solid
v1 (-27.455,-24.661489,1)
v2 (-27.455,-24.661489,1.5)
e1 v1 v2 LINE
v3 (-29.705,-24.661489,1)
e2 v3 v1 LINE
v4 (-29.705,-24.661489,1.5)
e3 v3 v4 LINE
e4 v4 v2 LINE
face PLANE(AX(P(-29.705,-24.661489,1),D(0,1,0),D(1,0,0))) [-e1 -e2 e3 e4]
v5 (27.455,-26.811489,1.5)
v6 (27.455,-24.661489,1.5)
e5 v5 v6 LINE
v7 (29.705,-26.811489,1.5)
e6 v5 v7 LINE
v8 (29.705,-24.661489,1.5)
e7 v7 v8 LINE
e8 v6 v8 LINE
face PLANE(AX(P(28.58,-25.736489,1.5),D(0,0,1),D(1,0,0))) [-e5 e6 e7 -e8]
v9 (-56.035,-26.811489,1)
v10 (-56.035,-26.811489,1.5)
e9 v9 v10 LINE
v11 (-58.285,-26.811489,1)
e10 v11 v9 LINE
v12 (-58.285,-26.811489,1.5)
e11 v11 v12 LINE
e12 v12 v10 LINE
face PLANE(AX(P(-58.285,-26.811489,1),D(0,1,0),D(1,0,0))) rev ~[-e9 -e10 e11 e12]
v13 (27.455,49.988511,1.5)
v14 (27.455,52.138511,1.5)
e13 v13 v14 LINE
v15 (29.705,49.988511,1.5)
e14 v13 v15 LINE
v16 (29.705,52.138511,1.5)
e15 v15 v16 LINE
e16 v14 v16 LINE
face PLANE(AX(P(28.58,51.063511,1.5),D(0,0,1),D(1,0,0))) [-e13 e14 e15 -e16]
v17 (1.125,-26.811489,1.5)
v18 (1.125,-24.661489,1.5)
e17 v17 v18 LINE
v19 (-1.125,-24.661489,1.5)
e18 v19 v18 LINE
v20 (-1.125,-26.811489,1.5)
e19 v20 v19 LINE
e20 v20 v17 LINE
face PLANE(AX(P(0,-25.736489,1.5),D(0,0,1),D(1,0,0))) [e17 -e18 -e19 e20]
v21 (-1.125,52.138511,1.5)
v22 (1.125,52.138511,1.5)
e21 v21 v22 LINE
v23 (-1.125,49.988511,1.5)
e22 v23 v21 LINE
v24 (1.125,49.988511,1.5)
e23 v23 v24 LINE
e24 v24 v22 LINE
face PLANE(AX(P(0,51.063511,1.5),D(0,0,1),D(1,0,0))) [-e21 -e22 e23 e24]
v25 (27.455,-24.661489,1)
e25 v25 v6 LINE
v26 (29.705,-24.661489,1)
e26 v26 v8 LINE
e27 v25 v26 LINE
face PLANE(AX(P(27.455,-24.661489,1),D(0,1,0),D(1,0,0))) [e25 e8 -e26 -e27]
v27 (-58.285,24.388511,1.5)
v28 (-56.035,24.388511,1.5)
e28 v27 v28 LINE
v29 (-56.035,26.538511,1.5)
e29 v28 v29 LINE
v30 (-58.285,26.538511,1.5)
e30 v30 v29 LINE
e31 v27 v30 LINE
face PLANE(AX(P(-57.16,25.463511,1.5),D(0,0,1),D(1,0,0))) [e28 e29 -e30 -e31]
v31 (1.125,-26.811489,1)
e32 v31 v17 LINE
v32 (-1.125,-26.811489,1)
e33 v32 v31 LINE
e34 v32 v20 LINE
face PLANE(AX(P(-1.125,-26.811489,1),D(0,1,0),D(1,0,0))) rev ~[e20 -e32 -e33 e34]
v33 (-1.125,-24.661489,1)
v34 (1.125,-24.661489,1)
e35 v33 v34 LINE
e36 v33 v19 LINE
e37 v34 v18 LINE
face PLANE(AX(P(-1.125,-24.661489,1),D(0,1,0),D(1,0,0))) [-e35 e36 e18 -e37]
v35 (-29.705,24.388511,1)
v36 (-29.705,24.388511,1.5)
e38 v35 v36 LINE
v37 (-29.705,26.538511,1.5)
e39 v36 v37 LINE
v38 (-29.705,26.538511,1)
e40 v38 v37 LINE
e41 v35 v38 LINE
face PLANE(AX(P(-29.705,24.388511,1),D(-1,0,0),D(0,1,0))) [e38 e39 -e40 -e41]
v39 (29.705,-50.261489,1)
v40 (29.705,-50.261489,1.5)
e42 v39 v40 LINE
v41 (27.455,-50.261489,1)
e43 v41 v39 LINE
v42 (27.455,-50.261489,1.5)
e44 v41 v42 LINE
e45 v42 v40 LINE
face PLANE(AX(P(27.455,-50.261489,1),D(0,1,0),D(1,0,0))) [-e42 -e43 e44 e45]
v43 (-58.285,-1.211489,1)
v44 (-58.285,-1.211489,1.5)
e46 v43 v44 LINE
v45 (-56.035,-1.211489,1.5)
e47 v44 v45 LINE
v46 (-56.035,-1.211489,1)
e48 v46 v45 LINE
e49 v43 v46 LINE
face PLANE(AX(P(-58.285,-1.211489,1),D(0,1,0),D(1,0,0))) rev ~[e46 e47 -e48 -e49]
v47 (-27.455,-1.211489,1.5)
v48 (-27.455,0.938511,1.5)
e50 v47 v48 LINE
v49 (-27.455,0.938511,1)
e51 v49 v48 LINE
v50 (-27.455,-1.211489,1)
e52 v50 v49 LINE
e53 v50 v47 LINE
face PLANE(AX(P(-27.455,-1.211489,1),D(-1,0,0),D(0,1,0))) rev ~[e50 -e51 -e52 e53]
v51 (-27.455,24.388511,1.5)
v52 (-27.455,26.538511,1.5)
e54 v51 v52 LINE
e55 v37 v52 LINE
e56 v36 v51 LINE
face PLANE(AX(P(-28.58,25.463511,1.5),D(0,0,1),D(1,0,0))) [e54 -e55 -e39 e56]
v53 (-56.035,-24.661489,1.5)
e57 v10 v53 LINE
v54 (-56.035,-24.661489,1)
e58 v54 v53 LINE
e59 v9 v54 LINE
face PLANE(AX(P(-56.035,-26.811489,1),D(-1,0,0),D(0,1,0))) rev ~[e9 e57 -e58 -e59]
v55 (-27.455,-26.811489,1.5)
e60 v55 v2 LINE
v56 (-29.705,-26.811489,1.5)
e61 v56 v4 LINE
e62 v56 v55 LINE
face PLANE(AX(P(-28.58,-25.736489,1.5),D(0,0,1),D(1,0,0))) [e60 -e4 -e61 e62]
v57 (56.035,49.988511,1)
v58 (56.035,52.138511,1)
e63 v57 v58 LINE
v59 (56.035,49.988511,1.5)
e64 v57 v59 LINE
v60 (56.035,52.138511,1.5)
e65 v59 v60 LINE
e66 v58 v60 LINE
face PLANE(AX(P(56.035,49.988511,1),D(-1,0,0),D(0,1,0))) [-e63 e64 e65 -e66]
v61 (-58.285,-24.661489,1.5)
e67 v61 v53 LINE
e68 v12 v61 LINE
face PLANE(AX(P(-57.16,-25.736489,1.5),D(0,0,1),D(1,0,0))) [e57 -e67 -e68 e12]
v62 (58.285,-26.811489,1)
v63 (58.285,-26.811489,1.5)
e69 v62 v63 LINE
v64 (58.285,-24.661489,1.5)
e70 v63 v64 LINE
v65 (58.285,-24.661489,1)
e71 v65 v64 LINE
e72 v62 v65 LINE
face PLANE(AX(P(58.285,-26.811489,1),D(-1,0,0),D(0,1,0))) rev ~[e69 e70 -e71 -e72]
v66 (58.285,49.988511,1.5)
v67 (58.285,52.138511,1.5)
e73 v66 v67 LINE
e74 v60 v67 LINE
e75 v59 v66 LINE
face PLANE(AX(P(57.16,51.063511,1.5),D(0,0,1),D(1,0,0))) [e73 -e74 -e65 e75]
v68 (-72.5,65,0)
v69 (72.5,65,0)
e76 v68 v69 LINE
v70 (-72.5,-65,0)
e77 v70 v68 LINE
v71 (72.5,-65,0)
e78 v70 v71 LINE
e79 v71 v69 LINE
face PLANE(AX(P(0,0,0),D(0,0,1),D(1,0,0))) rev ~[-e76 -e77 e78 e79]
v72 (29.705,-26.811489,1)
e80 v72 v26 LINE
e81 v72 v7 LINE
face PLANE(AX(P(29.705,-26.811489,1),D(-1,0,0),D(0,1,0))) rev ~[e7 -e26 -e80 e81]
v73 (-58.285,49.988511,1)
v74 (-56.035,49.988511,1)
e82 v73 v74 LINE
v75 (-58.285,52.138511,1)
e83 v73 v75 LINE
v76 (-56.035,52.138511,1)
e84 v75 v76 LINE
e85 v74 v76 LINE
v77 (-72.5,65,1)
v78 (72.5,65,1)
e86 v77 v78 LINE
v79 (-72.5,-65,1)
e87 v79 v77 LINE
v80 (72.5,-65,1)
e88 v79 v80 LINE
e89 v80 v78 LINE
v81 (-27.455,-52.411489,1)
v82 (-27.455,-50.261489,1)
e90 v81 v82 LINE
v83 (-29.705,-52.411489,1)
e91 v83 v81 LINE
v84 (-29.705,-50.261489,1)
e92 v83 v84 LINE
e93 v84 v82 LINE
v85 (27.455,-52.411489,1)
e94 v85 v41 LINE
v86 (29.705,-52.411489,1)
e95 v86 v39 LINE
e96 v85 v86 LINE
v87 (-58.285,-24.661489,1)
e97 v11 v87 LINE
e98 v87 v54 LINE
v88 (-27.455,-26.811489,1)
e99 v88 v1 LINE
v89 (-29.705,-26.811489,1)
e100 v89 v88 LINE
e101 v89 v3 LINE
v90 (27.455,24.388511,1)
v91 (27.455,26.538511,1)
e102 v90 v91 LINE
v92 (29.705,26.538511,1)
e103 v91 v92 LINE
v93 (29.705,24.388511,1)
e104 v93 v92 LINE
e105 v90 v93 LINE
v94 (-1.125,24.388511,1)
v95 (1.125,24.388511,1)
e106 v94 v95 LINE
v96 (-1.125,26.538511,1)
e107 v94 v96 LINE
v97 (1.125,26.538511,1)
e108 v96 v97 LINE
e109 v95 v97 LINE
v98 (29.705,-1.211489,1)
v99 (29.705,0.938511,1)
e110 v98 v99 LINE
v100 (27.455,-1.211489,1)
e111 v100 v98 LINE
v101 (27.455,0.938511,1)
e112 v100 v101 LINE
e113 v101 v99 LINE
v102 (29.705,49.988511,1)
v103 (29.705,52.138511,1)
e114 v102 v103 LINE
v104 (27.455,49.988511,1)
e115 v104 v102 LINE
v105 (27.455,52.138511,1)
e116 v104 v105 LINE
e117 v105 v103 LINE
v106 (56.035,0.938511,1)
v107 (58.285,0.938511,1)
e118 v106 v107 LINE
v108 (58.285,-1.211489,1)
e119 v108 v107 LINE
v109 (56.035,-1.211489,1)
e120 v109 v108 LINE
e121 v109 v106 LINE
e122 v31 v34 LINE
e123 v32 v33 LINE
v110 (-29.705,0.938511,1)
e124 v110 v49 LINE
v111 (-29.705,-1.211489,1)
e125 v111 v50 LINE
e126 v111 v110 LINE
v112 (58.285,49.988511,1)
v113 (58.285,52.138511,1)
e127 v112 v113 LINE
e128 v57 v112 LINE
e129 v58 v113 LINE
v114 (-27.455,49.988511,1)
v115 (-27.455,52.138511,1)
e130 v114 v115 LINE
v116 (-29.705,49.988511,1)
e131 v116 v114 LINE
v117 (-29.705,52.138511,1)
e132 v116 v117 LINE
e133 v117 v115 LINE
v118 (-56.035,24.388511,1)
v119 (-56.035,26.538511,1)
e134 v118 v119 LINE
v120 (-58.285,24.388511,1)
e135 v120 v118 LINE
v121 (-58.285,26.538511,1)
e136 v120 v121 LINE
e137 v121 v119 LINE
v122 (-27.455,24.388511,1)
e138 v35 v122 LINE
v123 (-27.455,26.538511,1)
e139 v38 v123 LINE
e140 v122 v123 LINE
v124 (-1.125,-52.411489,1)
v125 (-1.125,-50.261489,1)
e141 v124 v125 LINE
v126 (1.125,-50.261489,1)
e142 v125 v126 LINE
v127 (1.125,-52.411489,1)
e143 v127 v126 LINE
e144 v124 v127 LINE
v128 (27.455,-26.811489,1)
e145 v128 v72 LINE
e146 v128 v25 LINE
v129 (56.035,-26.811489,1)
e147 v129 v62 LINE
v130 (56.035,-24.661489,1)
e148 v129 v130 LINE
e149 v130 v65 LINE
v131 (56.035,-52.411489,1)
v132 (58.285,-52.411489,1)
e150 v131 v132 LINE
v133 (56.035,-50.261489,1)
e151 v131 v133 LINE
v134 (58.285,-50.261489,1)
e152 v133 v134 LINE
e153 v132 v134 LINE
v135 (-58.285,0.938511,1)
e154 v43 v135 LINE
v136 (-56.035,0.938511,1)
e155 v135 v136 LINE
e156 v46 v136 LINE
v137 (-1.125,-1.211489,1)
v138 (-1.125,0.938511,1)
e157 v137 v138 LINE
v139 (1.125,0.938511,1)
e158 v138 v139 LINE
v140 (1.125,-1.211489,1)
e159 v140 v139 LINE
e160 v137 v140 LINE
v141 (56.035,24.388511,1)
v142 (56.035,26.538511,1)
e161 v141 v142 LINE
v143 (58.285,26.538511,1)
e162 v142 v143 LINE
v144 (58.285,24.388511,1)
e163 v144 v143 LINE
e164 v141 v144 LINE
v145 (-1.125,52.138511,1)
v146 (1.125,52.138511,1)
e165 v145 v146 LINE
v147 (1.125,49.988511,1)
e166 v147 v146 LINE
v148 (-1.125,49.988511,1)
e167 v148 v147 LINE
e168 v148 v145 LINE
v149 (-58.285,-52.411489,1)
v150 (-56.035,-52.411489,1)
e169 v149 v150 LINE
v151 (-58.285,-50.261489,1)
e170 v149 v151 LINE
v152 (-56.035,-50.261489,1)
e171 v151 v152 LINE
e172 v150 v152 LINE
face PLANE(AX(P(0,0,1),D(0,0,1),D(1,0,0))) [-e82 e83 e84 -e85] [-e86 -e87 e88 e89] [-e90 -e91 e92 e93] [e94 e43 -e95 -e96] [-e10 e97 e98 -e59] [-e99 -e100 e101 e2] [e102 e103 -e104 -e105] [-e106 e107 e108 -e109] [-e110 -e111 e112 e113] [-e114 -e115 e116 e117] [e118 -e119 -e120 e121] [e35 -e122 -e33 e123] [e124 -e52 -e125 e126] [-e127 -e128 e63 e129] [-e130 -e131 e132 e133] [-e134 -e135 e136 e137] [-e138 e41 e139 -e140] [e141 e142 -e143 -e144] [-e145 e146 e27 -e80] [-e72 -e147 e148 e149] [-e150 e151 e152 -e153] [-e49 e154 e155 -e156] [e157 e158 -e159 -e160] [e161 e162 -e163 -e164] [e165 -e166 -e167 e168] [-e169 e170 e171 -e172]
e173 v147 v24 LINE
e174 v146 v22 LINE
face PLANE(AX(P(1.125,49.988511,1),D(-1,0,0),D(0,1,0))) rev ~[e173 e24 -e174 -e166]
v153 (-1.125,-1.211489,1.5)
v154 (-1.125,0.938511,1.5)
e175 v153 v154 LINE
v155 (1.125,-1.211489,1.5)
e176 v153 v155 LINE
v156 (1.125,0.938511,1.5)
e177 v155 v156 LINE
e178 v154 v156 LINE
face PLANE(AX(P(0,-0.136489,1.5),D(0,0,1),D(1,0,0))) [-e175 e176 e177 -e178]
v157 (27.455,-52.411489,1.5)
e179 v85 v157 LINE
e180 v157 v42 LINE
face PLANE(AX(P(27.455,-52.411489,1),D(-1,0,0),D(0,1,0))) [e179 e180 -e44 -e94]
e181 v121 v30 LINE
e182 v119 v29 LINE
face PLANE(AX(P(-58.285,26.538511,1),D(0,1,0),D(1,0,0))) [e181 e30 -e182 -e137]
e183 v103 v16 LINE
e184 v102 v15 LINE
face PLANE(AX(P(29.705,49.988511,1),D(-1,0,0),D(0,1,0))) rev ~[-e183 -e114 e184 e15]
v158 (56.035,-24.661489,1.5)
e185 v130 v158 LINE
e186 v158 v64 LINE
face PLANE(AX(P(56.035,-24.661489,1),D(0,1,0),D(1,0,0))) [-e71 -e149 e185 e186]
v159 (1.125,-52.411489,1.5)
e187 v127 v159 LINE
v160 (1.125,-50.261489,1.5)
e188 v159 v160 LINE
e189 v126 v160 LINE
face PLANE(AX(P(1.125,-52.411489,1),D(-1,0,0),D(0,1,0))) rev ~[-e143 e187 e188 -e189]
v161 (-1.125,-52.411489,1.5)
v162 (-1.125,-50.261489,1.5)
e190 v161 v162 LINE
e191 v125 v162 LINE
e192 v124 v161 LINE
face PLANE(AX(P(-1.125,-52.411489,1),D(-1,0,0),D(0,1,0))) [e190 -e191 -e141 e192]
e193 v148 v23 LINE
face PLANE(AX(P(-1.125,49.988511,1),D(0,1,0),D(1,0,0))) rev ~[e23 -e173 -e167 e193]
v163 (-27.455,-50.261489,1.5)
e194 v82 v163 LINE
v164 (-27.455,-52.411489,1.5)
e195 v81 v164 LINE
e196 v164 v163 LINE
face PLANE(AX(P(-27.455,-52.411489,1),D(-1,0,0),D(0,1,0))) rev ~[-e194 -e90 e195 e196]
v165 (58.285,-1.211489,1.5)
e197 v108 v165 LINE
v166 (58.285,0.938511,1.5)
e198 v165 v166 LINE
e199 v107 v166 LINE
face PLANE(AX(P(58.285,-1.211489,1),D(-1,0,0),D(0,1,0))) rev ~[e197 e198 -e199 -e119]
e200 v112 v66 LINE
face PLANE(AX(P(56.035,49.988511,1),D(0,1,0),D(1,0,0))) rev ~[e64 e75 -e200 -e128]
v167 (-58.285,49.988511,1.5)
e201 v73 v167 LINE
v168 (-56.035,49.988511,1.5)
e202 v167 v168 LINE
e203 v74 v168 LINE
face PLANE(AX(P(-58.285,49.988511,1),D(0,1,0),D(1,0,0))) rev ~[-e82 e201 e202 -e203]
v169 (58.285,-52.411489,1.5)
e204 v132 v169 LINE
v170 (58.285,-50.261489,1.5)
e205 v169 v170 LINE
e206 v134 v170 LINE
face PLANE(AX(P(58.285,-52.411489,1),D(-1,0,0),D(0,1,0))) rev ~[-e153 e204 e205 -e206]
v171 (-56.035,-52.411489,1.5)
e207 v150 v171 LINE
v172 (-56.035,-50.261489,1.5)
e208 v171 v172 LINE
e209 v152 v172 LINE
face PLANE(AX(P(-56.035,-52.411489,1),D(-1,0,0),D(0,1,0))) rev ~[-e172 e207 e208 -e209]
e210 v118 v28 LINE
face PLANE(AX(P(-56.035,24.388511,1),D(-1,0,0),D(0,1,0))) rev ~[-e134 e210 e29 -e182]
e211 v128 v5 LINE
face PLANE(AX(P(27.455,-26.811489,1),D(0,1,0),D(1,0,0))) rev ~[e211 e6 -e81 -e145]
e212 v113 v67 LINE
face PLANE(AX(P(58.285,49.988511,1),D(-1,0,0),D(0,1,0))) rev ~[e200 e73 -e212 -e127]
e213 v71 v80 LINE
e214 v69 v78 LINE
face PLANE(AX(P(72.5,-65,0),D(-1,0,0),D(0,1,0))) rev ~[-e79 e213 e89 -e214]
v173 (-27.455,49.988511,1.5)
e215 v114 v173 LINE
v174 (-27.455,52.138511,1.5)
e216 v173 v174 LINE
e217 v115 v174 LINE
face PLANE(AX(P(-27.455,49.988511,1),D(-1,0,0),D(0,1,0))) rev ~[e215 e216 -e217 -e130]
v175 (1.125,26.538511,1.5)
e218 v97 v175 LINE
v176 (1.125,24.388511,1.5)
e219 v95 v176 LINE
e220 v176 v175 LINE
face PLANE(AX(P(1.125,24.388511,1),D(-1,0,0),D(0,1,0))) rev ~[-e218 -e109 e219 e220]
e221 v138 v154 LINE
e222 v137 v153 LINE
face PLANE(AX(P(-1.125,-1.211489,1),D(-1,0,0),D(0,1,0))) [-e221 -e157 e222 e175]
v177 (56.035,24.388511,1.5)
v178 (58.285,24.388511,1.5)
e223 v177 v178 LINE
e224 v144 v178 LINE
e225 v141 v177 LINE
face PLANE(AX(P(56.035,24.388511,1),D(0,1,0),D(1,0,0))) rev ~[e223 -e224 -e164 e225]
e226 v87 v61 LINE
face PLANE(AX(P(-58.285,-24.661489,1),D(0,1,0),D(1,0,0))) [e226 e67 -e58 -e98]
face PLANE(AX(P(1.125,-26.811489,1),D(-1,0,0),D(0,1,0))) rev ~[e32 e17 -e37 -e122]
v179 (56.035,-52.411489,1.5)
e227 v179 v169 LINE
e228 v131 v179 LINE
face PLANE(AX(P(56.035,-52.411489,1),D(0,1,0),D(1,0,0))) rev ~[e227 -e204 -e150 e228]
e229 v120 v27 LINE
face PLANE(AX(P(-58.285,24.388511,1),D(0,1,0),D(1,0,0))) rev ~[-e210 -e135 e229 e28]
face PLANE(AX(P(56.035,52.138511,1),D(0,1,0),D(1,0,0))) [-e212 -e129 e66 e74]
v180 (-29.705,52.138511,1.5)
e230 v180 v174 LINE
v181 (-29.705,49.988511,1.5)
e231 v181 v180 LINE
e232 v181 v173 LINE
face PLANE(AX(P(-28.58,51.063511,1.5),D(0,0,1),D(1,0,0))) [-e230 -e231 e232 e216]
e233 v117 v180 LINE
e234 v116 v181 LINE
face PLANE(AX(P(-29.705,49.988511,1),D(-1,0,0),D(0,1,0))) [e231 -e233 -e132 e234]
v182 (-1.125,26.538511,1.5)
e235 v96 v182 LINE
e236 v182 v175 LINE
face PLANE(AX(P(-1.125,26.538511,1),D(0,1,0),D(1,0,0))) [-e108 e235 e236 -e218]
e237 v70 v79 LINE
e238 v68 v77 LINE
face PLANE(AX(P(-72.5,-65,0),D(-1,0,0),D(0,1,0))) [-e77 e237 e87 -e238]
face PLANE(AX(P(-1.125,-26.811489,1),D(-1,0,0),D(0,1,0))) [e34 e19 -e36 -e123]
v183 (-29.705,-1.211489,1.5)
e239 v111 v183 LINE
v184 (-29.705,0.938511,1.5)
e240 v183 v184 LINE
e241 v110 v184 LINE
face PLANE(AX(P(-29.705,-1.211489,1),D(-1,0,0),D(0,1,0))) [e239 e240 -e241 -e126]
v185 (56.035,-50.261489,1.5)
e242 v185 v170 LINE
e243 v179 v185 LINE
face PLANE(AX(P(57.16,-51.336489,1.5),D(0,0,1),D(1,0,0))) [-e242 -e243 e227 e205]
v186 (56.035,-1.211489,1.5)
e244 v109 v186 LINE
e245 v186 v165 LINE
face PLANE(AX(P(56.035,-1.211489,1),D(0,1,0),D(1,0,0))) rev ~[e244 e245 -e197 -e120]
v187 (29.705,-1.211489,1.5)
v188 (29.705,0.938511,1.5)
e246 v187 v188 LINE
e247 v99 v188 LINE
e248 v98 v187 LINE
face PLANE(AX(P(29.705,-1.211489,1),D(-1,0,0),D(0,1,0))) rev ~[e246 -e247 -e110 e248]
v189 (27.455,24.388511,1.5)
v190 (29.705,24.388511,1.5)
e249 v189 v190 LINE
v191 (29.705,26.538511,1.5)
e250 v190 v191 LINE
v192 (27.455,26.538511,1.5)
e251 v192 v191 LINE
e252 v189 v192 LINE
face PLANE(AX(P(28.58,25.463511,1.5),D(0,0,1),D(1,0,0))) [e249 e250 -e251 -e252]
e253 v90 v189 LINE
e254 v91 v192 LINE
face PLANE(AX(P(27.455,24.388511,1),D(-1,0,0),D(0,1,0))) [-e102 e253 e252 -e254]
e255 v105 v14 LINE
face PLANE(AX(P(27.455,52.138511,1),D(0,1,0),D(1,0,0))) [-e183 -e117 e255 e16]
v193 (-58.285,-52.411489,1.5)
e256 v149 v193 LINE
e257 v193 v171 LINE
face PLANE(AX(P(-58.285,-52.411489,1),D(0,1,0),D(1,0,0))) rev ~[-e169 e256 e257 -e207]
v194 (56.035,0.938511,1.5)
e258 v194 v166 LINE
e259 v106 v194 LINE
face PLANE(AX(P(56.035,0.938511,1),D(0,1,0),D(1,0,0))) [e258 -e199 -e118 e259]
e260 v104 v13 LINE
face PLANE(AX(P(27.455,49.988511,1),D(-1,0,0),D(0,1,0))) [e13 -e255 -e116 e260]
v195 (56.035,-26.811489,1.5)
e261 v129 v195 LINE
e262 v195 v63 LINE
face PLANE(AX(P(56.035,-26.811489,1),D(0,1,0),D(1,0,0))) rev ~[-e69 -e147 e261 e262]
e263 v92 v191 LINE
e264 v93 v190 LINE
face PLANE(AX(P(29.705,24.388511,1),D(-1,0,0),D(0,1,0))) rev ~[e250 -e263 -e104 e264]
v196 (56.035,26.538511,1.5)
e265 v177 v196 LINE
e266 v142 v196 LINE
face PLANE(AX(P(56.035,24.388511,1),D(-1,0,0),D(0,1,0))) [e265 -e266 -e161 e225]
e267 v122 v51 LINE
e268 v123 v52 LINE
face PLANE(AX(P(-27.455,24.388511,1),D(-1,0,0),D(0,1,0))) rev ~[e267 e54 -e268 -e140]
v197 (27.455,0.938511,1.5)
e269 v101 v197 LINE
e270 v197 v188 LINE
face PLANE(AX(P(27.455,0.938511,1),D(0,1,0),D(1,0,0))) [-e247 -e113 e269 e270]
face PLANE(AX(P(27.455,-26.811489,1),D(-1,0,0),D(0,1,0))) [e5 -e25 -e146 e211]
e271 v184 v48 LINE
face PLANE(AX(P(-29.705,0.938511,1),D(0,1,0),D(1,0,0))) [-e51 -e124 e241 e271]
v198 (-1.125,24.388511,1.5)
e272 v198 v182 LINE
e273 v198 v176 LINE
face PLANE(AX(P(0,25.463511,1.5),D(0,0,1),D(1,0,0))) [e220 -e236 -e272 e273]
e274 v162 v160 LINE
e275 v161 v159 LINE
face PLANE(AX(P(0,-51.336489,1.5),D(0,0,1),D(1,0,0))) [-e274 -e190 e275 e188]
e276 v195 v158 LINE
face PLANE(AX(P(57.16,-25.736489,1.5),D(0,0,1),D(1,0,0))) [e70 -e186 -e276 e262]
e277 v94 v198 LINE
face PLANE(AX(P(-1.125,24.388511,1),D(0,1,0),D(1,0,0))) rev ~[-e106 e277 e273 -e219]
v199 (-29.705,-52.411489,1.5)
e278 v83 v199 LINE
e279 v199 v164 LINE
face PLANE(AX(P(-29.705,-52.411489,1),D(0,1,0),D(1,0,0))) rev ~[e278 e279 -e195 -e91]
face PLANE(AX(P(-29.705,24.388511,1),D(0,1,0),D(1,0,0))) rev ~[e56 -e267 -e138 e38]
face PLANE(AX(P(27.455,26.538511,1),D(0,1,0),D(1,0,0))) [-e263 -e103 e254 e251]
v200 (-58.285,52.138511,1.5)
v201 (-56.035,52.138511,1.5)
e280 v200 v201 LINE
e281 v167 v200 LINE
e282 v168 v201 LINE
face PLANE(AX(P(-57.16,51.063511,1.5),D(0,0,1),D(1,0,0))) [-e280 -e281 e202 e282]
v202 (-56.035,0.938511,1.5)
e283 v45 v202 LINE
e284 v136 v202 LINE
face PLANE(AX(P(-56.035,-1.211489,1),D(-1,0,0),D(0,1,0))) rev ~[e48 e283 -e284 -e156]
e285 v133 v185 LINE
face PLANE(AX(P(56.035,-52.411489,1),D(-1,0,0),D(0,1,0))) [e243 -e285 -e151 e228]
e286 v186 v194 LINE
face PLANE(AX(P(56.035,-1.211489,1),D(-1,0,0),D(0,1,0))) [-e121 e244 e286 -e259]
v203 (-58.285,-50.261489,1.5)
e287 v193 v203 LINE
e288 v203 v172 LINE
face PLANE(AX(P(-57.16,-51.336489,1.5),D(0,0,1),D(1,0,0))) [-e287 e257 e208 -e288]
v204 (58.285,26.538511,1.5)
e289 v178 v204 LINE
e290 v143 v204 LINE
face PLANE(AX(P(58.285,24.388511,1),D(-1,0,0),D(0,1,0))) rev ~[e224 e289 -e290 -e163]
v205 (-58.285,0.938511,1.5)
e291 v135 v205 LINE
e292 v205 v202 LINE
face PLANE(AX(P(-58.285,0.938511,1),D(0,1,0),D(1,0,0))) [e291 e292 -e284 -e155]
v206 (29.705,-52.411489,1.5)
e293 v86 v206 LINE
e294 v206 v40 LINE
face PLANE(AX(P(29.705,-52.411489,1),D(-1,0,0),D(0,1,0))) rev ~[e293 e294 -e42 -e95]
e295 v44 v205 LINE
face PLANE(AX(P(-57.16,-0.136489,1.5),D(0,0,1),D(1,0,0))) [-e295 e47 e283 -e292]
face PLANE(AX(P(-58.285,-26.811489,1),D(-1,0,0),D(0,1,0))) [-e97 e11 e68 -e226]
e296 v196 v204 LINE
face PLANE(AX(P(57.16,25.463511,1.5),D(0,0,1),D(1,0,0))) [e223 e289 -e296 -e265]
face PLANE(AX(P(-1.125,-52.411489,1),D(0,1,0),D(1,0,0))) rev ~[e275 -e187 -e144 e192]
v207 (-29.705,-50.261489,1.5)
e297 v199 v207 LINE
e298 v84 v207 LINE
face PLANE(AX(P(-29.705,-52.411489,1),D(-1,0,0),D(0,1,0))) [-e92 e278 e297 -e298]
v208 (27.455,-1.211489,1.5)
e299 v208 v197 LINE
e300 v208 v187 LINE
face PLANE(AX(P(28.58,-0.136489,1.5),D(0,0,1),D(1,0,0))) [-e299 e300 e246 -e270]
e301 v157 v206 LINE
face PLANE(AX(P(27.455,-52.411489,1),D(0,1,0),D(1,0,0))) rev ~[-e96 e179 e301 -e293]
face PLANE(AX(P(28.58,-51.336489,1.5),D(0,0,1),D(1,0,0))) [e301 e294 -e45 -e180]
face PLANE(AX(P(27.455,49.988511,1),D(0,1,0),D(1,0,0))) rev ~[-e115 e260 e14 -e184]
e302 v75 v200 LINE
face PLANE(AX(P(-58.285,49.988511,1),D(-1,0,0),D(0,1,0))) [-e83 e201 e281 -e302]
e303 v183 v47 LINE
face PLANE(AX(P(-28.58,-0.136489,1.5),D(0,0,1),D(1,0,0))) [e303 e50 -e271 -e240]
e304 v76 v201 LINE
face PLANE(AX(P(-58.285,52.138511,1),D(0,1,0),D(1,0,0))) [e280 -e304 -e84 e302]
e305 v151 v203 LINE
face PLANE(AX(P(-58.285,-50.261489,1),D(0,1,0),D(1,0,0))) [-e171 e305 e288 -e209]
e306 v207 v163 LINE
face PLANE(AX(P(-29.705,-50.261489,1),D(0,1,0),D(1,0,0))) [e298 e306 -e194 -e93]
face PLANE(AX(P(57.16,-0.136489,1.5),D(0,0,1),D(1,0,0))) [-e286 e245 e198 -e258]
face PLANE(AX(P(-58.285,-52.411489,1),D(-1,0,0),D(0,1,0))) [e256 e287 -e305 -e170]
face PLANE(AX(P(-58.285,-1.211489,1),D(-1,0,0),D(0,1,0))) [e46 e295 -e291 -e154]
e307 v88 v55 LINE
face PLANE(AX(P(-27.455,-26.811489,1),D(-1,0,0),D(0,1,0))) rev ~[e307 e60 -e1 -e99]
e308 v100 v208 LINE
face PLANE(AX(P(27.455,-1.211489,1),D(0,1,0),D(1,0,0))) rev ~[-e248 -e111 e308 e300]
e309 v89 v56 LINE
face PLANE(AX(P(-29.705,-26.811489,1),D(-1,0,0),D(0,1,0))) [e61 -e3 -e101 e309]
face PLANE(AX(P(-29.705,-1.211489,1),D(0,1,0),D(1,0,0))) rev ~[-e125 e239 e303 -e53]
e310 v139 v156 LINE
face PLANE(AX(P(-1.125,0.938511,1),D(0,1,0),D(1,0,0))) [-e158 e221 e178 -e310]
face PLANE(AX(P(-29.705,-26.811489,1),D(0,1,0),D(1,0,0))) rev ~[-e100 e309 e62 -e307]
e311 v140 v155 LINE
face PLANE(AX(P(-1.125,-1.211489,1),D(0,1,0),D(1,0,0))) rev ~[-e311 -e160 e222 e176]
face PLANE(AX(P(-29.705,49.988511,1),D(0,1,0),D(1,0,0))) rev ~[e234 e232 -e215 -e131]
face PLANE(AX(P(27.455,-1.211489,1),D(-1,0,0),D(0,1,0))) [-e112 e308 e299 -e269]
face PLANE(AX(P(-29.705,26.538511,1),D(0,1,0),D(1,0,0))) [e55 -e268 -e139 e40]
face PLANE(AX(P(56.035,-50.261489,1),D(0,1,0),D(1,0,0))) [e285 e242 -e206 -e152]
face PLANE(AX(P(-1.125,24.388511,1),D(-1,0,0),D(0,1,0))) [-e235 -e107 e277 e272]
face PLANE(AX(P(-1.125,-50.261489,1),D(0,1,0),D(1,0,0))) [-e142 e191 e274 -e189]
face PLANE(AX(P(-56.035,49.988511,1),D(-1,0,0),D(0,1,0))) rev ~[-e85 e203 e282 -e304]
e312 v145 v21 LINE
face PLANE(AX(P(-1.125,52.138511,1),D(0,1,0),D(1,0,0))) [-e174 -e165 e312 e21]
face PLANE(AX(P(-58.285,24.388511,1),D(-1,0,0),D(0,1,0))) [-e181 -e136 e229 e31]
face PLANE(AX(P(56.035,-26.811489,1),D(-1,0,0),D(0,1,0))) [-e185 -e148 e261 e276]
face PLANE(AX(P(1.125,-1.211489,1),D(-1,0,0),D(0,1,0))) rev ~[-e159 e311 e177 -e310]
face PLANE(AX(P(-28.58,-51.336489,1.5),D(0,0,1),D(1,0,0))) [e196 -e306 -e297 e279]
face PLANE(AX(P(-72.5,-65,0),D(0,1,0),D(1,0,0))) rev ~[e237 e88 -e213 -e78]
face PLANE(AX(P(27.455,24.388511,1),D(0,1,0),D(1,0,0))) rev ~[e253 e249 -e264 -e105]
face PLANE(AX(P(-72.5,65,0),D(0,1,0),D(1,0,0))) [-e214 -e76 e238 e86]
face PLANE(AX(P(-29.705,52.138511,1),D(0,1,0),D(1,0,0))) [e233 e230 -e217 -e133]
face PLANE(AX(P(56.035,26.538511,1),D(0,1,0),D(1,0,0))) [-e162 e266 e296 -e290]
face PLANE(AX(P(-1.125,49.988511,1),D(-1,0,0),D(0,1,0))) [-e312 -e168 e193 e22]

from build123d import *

# Parameters (mm, degrees)
SKETCH_1_W      = 145
SKETCH_1_H      = 130
EXTRUDE_1_DEPTH = 1
SKETCH_2_W      = 2.25
SKETCH_2_H      = 2.15
EXTRUDE_2_DEPTH = 0.5


with BuildPart() as part:
    # 草图1 → 凸台-拉伸1 (new body)
    with BuildSketch(Plane.XY):
        Rectangle(SKETCH_1_W, SKETCH_1_H)
    extrude(amount=EXTRUDE_1_DEPTH)

    # 草图2 → 凸台-拉伸2 (add)
    with BuildSketch(Plane.XY.offset(1)):
        with Locations((-28.58, 51.063510548)):
            Rectangle(SKETCH_2_W, SKETCH_2_H)
        with Locations((-57.16, 51.063510548)):
            Rectangle(SKETCH_2_W, SKETCH_2_H)
        with Locations((0, 51.063510548)):
            Rectangle(SKETCH_2_W, SKETCH_2_H)
        with Locations((28.58, 51.063510548)):
            Rectangle(SKETCH_2_W, SKETCH_2_H)
        with Locations((57.16, 51.063510548)):
            Rectangle(SKETCH_2_W, SKETCH_2_H)
        with Locations((-28.58, 25.463510548)):
            Rectangle(SKETCH_2_W, SKETCH_2_H)
        with Locations((0, 25.463510548)):
            Rectangle(SKETCH_2_W, SKETCH_2_H)
        with Locations((28.58, 25.463510548)):
            Rectangle(SKETCH_2_W, SKETCH_2_H)
        with Locations((57.16, 25.463510548)):
            Rectangle(SKETCH_2_W, SKETCH_2_H)
        with Locations((-28.58, -0.136489452)):
            Rectangle(SKETCH_2_W, SKETCH_2_H)
        with Locations((0, -0.136489452)):
            Rectangle(SKETCH_2_W, SKETCH_2_H)
        with Locations((28.58, -0.136489452)):
            Rectangle(SKETCH_2_W, SKETCH_2_H)
        with Locations((57.16, -0.136489452)):
            Rectangle(SKETCH_2_W, SKETCH_2_H)
        with Locations((-28.58, -25.736489452)):
            Rectangle(SKETCH_2_W, SKETCH_2_H)
        with Locations((0, -25.736489452)):
            Rectangle(SKETCH_2_W, SKETCH_2_H)
        with Locations((28.58, -25.736489452)):
            Rectangle(SKETCH_2_W, SKETCH_2_H)
        with Locations((57.16, -25.736489452)):
            Rectangle(SKETCH_2_W, SKETCH_2_H)
        with Locations((-28.58, -51.336489452)):
            Rectangle(SKETCH_2_W, SKETCH_2_H)
        with Locations((0, -51.336489452)):
            Rectangle(SKETCH_2_W, SKETCH_2_H)
        with Locations((28.58, -51.336489452)):
            Rectangle(SKETCH_2_W, SKETCH_2_H)
        with Locations((57.16, -51.336489452)):
            Rectangle(SKETCH_2_W, SKETCH_2_H)
        with Locations((-57.16, 25.463510548)):
            Rectangle(SKETCH_2_W, SKETCH_2_H)
        with Locations((-57.16, -0.136489452)):
            Rectangle(SKETCH_2_W, SKETCH_2_H)
        with Locations((-57.16, -25.736489452)):
            Rectangle(SKETCH_2_W, SKETCH_2_H)
        with Locations((-57.16, -51.336489452)):
            Rectangle(SKETCH_2_W, SKETCH_2_H)
    extrude(amount=EXTRUDE_2_DEPTH)


solid = part.part
